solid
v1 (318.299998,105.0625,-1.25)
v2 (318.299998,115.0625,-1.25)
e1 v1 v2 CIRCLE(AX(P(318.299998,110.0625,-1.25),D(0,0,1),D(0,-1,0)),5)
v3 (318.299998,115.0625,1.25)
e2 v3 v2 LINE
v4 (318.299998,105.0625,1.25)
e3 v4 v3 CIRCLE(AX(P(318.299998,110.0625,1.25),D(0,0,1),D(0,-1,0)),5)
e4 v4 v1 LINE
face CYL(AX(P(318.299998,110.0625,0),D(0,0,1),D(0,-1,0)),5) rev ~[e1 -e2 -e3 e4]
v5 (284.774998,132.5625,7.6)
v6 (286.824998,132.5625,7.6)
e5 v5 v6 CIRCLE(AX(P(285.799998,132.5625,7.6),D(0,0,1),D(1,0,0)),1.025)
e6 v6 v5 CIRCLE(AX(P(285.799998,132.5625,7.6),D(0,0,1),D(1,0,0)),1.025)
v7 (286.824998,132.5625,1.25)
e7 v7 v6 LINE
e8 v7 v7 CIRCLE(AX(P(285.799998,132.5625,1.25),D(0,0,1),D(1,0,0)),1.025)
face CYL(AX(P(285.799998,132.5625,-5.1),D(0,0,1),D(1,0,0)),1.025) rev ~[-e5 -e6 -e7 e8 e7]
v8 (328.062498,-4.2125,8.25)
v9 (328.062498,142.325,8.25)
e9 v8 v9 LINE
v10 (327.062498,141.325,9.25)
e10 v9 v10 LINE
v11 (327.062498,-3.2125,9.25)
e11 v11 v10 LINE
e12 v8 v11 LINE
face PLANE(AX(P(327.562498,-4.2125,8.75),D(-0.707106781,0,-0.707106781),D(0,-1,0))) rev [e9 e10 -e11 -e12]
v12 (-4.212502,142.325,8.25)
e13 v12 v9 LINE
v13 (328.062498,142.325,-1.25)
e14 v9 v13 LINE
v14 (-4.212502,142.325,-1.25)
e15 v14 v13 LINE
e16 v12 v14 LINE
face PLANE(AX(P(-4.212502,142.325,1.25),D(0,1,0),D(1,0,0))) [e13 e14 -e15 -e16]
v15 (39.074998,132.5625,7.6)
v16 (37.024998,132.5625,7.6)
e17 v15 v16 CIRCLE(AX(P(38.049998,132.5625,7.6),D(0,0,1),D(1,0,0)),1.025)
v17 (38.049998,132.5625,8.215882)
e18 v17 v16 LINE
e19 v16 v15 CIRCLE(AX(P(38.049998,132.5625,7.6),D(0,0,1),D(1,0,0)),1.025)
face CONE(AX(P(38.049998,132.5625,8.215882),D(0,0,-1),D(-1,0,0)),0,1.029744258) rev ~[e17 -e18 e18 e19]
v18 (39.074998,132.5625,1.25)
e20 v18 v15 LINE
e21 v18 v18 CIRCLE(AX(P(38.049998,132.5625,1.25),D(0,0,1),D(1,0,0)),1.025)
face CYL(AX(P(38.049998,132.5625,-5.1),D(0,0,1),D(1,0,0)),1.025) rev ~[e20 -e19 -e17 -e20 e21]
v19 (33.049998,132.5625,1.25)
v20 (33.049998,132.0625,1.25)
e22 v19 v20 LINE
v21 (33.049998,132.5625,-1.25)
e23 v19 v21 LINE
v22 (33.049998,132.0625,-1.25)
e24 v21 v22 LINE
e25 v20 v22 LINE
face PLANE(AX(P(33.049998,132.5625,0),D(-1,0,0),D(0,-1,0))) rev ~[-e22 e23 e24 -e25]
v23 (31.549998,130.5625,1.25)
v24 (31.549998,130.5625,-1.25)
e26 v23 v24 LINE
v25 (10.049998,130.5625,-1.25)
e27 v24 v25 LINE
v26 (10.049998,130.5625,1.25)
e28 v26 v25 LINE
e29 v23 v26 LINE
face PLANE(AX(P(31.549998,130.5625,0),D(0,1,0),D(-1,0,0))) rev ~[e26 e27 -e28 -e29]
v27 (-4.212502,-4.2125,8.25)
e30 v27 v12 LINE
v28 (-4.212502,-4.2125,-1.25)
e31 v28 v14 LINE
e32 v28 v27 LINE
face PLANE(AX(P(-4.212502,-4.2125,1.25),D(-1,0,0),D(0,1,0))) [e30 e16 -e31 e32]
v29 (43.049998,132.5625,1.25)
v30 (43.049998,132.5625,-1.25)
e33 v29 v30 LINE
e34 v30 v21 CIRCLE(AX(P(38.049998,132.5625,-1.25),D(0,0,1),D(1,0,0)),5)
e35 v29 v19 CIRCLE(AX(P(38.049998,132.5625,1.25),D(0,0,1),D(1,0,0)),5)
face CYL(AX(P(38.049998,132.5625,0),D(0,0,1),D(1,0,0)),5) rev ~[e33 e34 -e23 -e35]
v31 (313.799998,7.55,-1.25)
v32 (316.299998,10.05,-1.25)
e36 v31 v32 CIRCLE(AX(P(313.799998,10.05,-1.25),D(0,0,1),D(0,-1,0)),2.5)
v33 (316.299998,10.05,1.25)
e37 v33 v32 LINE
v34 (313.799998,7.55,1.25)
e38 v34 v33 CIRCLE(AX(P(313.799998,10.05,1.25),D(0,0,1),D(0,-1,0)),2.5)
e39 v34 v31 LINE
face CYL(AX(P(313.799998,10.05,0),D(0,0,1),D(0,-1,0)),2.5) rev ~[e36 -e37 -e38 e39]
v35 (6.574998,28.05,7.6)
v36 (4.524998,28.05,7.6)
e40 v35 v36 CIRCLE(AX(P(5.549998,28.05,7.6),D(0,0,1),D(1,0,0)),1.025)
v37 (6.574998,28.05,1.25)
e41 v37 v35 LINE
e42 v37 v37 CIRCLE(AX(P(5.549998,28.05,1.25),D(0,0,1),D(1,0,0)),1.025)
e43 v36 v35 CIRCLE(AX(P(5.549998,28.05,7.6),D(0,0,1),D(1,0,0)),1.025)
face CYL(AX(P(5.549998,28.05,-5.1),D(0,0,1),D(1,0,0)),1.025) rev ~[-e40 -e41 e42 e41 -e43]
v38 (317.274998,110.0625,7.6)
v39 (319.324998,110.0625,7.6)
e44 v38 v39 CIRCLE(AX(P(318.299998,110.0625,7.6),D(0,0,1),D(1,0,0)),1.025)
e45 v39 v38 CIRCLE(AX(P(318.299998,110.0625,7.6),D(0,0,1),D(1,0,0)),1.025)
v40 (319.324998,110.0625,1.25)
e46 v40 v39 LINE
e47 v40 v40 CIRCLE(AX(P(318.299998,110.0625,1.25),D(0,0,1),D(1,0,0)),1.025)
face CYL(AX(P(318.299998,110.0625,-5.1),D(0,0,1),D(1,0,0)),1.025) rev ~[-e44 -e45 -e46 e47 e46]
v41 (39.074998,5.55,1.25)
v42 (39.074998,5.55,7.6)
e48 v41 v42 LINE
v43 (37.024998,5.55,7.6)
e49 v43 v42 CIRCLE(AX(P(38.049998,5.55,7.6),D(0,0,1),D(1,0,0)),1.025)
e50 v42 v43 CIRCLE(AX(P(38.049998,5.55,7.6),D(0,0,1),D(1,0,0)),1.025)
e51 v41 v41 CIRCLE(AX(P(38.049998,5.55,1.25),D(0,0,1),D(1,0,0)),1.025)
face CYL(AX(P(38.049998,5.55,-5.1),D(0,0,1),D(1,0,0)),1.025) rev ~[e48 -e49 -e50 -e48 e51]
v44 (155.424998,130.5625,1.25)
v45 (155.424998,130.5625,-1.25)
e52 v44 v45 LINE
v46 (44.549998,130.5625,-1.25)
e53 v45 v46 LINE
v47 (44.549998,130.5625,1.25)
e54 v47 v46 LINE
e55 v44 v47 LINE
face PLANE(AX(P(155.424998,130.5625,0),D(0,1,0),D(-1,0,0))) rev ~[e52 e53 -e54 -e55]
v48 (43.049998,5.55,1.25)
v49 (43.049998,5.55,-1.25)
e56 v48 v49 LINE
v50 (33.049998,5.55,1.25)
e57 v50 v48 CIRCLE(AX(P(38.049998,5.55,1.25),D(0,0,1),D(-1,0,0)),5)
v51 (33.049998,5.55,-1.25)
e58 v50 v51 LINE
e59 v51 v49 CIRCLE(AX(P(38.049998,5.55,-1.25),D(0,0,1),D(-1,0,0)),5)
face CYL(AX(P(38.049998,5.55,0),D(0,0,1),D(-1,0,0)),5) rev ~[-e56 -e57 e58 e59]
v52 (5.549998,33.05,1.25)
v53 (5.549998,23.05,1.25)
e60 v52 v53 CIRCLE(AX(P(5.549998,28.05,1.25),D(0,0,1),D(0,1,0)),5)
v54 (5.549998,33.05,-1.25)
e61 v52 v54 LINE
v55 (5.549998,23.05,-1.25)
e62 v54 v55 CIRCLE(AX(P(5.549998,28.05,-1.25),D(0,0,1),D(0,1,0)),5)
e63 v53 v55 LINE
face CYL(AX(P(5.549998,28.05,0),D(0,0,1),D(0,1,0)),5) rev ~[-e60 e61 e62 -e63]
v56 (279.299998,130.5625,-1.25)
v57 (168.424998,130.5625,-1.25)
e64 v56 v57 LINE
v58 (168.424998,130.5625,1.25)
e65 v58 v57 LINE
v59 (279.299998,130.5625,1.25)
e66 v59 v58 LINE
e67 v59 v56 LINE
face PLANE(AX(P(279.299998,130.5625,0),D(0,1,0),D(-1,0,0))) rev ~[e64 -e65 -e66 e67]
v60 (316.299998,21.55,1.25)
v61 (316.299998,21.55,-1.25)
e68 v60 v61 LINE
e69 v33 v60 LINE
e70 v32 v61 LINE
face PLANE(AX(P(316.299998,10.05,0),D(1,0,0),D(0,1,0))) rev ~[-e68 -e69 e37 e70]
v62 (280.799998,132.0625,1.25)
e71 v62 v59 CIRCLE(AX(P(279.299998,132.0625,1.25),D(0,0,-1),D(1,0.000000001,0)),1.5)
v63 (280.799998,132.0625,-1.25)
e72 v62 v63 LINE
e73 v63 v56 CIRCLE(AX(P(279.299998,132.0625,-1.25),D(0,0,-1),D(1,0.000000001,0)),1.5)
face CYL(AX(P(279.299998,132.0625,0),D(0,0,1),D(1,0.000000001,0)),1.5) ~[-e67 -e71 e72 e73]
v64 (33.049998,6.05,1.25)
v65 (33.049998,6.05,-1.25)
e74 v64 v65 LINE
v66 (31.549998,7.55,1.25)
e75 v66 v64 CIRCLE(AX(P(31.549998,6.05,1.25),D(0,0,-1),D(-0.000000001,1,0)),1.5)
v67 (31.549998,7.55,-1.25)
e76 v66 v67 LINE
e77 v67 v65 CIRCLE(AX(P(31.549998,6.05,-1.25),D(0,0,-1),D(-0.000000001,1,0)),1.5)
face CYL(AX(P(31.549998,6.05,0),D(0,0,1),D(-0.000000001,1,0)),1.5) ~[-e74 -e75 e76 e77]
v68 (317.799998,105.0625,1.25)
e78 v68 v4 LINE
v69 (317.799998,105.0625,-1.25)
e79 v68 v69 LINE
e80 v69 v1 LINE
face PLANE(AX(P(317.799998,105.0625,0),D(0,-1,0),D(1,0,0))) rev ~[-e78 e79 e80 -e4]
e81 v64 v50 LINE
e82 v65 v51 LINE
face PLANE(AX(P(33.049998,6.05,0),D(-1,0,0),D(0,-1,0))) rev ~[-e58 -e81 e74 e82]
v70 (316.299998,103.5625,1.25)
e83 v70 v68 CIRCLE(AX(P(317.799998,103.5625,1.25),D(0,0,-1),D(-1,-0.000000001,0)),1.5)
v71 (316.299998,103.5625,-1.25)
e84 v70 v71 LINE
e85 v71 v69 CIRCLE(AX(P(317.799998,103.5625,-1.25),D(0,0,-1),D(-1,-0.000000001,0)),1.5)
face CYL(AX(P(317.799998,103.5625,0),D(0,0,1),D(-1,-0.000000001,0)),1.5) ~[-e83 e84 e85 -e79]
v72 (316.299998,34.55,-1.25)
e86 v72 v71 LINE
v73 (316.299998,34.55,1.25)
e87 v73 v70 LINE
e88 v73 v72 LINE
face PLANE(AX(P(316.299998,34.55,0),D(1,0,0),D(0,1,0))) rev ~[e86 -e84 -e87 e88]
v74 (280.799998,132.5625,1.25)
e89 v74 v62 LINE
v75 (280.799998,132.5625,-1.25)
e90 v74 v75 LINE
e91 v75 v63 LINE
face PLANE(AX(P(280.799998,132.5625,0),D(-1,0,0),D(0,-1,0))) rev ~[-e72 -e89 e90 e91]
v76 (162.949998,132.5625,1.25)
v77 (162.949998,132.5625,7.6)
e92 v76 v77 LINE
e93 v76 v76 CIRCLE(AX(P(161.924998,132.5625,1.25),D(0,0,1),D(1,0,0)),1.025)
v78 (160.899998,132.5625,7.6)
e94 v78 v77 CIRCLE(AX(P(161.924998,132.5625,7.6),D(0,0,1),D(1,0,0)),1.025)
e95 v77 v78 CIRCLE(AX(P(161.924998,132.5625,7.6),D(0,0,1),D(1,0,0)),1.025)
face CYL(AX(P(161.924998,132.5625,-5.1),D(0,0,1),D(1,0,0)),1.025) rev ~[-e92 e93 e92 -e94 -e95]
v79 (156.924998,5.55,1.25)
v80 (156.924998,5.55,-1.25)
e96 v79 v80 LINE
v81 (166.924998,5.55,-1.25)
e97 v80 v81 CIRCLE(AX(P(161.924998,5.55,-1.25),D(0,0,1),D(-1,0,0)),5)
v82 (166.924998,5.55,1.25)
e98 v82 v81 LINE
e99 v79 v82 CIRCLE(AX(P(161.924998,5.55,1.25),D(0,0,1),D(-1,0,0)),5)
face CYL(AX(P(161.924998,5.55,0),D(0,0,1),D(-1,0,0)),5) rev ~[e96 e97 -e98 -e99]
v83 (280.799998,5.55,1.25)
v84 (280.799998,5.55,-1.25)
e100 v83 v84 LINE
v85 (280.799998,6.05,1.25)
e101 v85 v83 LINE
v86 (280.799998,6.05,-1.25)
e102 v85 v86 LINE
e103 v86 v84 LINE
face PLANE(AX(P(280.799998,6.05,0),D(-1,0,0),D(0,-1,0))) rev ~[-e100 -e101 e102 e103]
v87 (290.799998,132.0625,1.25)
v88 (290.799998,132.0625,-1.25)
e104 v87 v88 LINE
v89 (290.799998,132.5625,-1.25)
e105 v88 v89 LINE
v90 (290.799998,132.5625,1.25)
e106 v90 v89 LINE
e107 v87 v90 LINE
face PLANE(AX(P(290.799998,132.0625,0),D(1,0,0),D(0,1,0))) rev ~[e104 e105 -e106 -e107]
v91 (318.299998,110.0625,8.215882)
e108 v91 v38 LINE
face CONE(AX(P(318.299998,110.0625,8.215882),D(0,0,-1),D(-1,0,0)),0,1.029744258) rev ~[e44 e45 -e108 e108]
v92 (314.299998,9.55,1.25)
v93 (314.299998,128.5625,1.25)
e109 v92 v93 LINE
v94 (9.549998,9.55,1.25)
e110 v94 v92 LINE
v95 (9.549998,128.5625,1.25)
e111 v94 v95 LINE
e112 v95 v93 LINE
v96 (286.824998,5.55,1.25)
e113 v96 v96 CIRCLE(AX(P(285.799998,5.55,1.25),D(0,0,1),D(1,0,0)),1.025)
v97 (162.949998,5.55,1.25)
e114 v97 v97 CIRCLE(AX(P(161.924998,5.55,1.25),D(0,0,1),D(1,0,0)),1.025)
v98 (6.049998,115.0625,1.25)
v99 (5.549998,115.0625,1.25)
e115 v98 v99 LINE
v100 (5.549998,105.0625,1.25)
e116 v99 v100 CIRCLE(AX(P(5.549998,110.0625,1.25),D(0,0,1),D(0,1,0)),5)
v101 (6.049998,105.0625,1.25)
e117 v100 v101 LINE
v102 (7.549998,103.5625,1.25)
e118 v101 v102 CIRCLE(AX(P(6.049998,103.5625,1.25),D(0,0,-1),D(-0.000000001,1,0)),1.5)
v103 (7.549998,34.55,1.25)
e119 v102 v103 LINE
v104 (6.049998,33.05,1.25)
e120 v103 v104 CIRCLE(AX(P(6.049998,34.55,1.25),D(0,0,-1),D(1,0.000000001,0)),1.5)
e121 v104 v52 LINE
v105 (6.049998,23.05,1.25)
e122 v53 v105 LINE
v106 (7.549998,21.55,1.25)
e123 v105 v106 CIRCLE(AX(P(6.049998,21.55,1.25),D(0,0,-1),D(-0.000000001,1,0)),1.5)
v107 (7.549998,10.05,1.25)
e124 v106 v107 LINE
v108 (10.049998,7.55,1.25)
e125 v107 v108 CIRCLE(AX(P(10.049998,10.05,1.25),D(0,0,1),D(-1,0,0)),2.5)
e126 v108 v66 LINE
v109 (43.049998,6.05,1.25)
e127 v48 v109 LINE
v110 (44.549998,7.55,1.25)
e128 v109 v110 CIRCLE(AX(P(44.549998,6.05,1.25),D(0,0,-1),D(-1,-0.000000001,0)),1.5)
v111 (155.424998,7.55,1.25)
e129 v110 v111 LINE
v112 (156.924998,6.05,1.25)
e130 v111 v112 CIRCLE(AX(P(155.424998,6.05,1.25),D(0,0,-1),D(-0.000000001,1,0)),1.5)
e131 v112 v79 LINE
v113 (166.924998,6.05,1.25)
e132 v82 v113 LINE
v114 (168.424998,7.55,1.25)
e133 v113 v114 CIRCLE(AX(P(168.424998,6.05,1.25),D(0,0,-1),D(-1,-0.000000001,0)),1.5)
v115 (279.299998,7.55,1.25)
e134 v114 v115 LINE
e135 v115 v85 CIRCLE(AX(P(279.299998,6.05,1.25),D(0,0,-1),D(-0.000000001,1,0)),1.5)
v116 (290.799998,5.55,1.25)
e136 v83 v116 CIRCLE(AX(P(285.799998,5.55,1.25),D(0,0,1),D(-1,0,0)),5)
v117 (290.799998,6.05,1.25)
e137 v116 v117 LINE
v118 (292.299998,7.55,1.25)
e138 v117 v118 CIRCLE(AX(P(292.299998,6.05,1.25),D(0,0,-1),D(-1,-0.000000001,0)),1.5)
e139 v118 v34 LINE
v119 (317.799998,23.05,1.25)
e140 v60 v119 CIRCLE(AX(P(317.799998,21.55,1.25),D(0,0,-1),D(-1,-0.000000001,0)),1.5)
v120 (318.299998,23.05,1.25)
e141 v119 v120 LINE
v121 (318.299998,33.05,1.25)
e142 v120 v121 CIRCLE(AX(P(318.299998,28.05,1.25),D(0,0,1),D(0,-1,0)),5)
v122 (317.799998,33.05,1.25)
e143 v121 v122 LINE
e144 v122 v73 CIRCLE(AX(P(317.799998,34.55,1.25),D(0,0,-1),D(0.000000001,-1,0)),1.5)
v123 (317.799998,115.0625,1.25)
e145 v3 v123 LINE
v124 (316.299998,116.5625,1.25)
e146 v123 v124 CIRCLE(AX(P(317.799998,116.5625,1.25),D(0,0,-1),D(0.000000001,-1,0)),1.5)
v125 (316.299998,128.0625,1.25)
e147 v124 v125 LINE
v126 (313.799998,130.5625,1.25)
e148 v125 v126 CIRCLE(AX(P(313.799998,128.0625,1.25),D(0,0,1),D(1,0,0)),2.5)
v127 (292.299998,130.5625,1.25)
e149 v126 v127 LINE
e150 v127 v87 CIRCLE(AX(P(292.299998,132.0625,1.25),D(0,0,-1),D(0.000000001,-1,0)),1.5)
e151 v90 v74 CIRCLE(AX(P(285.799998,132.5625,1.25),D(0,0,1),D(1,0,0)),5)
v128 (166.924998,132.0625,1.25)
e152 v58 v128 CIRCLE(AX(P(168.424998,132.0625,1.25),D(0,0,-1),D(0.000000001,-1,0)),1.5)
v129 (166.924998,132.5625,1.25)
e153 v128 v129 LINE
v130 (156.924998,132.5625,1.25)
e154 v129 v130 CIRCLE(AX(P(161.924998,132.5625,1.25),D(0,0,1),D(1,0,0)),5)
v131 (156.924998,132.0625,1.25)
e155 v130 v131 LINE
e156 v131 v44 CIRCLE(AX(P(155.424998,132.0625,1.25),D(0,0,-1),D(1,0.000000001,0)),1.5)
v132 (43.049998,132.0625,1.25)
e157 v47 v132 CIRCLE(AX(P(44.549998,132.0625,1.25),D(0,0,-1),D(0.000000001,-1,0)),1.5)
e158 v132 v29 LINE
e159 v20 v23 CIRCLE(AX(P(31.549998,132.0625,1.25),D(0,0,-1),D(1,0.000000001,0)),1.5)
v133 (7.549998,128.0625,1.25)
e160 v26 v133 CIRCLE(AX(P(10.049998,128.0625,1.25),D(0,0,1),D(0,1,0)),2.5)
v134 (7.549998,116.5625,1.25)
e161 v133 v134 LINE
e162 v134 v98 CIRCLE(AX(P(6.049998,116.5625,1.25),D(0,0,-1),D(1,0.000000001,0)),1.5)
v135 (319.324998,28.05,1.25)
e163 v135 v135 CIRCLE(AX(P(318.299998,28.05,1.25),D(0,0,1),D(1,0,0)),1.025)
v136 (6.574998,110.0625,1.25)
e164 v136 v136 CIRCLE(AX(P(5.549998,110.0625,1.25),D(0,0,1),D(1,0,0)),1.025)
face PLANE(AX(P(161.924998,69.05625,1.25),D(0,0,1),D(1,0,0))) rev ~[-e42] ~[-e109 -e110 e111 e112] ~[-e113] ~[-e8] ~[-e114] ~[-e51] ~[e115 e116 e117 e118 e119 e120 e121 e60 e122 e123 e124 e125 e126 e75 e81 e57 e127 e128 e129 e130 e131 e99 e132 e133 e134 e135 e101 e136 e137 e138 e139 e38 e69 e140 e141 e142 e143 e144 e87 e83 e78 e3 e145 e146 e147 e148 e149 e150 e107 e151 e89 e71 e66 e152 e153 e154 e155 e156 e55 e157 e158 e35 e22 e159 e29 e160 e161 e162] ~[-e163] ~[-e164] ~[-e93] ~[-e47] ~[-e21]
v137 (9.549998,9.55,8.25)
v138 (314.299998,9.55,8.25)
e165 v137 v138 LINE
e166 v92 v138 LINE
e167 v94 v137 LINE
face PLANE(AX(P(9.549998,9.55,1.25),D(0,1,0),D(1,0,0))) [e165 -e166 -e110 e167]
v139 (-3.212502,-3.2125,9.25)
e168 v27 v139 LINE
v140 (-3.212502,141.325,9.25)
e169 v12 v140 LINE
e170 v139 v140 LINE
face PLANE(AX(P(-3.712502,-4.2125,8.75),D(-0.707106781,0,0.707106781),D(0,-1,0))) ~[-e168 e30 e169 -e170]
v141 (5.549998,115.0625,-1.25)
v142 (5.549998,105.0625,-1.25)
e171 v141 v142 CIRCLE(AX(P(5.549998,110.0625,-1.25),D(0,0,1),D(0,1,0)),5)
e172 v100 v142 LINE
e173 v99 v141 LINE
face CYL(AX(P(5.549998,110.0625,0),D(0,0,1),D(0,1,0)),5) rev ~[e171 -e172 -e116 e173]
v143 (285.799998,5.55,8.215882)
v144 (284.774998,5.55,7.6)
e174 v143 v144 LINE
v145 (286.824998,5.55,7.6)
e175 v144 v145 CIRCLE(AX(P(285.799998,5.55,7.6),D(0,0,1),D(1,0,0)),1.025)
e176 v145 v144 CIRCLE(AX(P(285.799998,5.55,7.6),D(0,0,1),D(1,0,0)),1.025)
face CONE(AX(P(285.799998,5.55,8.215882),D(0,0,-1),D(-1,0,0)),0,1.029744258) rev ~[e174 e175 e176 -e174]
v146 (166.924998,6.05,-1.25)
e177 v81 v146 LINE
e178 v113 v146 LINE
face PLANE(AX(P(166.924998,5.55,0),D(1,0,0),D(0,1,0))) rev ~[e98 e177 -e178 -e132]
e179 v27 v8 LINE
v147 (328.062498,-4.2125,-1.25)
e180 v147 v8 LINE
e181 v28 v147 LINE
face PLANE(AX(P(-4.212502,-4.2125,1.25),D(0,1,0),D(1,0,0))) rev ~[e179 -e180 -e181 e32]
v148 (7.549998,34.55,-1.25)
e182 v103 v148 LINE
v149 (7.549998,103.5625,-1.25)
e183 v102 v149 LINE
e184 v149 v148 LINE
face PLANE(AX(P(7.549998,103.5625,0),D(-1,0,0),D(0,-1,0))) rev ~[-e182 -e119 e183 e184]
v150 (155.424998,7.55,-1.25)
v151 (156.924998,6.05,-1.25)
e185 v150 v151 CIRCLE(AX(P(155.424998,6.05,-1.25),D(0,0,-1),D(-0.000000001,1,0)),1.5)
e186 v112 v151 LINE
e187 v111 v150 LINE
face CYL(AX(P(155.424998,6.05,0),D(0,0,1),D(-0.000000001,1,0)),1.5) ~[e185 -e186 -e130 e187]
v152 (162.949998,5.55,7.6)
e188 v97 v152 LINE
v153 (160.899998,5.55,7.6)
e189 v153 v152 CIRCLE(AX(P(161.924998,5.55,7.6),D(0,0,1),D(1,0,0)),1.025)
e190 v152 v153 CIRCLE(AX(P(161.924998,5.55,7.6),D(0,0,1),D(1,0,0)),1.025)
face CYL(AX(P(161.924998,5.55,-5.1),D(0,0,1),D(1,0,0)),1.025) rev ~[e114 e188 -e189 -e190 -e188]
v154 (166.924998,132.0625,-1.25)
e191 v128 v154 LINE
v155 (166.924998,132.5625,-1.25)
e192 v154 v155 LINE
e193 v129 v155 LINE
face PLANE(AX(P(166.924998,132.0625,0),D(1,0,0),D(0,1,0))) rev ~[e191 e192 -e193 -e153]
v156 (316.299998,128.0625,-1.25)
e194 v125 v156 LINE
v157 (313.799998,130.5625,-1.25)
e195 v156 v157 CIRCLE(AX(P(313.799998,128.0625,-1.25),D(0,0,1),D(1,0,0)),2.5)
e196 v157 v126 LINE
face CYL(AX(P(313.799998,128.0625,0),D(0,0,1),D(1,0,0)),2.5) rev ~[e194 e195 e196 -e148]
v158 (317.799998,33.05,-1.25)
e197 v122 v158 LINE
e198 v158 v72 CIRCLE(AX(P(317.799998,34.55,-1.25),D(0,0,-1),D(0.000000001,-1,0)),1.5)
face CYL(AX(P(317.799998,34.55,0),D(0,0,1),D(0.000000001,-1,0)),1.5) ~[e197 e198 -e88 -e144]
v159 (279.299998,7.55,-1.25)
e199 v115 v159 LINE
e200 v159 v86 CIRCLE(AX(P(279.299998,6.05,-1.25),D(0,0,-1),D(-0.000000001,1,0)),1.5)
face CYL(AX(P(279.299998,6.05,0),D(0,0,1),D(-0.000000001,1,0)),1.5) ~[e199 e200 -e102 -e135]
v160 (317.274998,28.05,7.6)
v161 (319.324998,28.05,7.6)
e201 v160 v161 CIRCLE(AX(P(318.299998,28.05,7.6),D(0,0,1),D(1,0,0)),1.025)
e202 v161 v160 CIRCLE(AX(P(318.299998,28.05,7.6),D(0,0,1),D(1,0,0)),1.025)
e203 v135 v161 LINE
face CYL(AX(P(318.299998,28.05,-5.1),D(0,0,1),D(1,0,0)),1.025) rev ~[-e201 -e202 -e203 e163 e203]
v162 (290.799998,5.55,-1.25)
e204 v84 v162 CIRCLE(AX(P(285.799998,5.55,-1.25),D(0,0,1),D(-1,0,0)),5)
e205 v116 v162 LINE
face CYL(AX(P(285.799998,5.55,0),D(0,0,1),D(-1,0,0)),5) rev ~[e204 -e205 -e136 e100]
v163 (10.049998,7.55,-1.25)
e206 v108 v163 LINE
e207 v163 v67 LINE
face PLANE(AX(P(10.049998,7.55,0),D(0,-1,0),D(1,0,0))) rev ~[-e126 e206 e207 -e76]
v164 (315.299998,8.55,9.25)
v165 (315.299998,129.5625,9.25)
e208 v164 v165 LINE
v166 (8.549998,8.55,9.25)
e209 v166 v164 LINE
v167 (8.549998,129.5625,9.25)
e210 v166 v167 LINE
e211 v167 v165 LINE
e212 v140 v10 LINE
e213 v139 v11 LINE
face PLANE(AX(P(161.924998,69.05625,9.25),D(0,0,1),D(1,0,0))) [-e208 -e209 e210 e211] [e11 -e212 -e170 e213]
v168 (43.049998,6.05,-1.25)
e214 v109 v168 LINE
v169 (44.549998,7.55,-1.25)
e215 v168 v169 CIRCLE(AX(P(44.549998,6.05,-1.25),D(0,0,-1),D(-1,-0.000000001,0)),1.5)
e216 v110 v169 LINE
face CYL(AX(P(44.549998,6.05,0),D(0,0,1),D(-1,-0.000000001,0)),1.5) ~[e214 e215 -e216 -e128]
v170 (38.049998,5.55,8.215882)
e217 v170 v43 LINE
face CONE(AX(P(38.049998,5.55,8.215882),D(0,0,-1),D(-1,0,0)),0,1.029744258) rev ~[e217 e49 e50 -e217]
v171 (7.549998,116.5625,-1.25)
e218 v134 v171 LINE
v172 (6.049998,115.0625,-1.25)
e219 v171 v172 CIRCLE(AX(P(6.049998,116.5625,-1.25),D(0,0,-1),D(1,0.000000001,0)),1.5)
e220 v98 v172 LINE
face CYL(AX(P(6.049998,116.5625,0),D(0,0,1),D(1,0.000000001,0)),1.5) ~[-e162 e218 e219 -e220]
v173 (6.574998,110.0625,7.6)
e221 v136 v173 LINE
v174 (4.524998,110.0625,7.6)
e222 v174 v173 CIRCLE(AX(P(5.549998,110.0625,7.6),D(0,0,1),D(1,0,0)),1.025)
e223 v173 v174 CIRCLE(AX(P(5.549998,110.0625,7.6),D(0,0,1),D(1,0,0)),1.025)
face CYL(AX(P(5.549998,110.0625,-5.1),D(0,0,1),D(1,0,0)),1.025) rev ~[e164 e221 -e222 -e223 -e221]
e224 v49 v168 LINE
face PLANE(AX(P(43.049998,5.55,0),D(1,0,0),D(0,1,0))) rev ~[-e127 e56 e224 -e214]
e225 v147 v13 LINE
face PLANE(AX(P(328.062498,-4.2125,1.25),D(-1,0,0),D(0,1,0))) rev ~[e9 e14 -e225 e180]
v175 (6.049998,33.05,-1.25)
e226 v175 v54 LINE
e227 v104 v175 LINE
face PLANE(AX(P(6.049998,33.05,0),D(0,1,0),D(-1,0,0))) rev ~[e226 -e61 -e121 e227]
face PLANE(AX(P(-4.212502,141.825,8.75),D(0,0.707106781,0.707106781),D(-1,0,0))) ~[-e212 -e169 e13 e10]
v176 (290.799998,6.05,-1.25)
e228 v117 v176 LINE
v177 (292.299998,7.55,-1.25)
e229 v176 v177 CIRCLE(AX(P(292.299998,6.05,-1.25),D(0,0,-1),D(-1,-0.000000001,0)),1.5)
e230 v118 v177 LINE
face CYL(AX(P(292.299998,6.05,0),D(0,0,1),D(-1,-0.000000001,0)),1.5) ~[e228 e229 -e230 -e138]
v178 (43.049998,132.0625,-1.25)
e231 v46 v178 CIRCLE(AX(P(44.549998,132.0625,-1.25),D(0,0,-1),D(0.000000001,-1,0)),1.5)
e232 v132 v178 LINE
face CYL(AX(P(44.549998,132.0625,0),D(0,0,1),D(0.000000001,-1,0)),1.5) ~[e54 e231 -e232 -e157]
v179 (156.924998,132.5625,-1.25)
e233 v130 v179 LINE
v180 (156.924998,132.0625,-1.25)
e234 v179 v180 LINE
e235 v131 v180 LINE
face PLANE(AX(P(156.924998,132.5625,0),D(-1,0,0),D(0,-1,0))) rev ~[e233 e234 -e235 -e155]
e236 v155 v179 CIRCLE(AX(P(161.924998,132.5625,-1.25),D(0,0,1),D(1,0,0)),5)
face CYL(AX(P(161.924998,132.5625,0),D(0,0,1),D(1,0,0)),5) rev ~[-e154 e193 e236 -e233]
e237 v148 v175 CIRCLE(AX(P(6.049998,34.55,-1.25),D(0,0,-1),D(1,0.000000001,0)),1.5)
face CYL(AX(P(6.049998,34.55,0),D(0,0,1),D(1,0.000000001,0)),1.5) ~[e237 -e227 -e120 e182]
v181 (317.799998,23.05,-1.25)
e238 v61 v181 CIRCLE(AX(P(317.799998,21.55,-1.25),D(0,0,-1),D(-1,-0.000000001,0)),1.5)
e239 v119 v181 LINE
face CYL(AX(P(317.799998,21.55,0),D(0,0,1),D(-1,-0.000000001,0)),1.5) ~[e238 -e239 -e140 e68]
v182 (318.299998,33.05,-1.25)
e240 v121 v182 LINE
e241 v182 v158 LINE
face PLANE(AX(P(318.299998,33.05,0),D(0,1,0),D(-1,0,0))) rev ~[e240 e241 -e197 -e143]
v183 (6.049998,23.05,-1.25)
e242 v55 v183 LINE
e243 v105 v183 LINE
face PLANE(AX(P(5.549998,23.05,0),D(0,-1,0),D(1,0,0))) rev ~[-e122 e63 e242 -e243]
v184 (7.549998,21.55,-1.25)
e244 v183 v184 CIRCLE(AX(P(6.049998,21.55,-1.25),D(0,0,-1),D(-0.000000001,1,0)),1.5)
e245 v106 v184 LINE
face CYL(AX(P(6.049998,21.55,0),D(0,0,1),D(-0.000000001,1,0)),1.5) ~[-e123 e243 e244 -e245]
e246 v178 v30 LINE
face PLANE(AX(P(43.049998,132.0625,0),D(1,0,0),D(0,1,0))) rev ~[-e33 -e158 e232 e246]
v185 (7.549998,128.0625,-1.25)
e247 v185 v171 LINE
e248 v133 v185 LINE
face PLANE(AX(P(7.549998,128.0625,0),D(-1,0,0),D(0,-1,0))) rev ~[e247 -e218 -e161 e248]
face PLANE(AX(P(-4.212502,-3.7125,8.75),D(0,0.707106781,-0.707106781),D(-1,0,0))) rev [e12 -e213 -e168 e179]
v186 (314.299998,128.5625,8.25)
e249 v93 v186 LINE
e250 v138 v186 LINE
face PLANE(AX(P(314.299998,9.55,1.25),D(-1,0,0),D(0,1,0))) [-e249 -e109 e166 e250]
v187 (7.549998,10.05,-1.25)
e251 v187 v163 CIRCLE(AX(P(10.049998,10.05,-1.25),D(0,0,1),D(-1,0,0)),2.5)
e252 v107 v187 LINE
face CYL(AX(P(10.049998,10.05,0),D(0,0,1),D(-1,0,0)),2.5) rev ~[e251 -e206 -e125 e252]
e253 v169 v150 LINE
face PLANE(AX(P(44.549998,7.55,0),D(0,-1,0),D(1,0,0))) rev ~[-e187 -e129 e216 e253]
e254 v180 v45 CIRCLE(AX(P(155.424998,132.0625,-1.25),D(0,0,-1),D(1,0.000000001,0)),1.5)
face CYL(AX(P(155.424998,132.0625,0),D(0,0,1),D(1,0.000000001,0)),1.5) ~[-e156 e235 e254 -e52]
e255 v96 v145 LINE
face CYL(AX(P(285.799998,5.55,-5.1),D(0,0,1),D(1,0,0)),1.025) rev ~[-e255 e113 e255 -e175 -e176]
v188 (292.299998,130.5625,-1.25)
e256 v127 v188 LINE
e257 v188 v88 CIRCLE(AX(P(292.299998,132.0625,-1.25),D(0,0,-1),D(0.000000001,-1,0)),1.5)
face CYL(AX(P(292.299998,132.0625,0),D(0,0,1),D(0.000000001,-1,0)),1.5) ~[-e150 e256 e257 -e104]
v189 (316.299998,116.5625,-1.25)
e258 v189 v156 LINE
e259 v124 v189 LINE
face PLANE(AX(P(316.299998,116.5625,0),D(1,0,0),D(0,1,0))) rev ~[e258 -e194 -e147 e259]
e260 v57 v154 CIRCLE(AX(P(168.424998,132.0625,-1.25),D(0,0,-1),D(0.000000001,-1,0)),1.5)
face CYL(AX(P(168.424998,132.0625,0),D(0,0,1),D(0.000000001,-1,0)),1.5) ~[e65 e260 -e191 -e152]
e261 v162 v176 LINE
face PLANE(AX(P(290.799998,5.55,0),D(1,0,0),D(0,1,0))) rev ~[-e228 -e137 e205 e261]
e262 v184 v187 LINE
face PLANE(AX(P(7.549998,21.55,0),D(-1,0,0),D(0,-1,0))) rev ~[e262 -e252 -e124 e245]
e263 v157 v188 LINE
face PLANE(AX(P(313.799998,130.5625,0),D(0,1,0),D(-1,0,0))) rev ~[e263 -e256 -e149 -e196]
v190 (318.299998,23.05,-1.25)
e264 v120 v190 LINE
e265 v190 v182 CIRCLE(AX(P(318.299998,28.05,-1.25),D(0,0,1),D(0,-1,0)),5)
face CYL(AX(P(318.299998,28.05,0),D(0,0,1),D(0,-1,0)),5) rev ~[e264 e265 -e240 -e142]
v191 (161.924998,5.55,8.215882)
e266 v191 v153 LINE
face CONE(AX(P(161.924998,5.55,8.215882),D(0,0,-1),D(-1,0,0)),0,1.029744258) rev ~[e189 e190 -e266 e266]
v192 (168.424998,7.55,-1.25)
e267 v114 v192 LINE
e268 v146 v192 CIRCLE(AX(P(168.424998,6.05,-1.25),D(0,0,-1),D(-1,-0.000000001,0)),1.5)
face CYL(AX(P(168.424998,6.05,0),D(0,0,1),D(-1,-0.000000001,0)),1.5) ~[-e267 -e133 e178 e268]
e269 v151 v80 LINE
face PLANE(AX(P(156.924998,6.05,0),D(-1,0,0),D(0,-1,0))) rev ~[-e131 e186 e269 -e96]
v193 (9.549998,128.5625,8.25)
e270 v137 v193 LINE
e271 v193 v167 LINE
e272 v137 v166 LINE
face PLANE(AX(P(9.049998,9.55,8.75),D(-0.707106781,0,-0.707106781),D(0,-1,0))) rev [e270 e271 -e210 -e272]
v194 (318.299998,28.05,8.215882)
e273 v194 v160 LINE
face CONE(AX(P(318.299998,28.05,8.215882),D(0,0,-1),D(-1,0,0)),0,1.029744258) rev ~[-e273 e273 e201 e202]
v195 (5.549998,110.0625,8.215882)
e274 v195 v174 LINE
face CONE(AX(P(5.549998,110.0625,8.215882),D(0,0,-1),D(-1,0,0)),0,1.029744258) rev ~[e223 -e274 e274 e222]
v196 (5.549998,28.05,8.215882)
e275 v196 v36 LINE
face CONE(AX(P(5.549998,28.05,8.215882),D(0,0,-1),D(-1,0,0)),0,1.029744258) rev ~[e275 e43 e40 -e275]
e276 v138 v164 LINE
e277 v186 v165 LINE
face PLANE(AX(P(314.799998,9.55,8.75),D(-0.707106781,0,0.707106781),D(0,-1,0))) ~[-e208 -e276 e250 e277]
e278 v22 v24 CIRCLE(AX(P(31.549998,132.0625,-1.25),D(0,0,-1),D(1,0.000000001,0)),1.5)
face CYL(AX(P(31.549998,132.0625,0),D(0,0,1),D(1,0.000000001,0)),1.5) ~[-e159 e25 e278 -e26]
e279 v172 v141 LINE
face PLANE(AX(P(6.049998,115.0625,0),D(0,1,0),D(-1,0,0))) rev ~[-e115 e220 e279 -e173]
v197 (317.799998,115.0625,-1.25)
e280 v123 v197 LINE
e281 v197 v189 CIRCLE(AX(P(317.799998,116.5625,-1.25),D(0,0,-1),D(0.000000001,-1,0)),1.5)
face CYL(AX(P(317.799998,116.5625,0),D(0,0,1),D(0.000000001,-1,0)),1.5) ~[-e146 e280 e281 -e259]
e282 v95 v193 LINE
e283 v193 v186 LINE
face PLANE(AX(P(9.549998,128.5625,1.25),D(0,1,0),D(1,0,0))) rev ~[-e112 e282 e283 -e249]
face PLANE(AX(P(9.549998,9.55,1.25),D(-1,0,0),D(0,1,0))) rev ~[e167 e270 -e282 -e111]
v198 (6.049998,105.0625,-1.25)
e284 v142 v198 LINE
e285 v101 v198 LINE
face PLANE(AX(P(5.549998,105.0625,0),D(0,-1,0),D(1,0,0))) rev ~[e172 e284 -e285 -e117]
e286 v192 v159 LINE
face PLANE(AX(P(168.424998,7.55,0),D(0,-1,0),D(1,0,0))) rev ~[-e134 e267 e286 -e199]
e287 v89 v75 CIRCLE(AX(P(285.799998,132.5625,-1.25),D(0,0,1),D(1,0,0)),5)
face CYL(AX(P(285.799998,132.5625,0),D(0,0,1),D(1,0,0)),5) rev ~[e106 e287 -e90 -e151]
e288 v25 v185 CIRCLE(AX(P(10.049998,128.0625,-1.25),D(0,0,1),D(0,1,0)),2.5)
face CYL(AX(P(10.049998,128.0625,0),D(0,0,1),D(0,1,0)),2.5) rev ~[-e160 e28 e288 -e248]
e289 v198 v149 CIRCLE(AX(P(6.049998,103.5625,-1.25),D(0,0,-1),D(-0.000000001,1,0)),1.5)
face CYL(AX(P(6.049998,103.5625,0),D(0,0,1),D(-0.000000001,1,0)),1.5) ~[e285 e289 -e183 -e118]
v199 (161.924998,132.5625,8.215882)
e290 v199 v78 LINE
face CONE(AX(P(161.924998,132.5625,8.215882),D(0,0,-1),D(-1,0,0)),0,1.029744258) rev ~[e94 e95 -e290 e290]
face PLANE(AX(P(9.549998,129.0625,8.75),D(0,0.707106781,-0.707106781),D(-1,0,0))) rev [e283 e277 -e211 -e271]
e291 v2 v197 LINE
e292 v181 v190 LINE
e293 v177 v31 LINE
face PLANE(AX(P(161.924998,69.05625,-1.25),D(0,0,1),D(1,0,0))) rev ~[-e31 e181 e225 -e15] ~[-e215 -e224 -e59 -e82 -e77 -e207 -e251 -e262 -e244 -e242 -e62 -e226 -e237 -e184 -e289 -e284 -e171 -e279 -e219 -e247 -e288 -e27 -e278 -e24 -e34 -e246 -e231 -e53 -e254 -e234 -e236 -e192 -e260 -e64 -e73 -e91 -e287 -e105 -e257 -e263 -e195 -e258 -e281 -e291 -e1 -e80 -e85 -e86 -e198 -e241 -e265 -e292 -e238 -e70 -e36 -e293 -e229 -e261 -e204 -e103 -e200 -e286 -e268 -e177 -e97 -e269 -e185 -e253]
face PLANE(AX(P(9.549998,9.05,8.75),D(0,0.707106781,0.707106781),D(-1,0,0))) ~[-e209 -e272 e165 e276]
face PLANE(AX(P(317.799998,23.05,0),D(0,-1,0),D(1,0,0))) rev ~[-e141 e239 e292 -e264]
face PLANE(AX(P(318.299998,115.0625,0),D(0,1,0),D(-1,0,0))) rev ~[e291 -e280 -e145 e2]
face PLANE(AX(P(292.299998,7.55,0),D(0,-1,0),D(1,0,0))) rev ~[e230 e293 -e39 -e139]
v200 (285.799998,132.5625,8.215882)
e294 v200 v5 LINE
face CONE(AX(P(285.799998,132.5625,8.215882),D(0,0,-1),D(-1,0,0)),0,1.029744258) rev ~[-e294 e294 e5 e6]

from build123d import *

# Parameters (mm, degrees)
SKETCH1_W               = 332.275
SKETCH1_H               = 146.5375
BOSS_EXTRUDE1_DEPTH     = 1.25
SKETCH2_W               = 332.275
SKETCH2_H               = 146.5375
SKETCH2_W_2             = 304.75
SKETCH2_H_2             = 119.0125
BOSS_EXTRUDE2_DEPTH     = 8
CHAMFER1_SIZE           = 1
M2_5_TAPPED_HOLE1_D     = 2.05
M2_5_TAPPED_HOLE1_DEPTH = 6.35
M2_5_TAPPED_HOLE1_TIP   = 0.615882135


with BuildPart() as part:
    # Sketch1 → Boss-Extrude1 (new, symmetric)
    with BuildSketch(Plane.XY):
        with Locations((161.924998435, 69.056249667)):
            Rectangle(SKETCH1_W, SKETCH1_H)
        with BuildLine():
            Line((313.799998435, 130.562499667), (292.299998435, 130.562499667))
            ThreePointArc((292.299998435, 130.562499667), (291.239338263, 131.001839495), (290.799998435, 132.062499667))
            Line((290.799998435, 132.062499667), (290.799998435, 132.562499667))
            ThreePointArc((290.799998435, 132.562499667), (285.799998435, 137.562499667), (280.799998435, 132.562499667))
            Line((280.799998435, 132.562499667), (280.799998435, 132.062499667))
            ThreePointArc((280.799998435, 132.062499667), (280.360658607, 131.001839495), (279.299998435, 130.562499667))
            Line((279.299998435, 130.562499667), (168.424998435, 130.562499667))
            ThreePointArc((168.424998435, 130.562499667), (167.364338263, 131.001839495), (166.924998435, 132.062499667))
            Line((166.924998435, 132.062499667), (166.924998435, 132.562499667))
            ThreePointArc((166.924998435, 132.562499667), (161.924998435, 137.562499667), (156.924998435, 132.562499667))
            Line((156.924998435, 132.562499667), (156.924998435, 132.062499667))
            ThreePointArc((156.924998435, 132.062499667), (156.485658607, 131.001839495), (155.424998435, 130.562499667))
            Line((155.424998435, 130.562499667), (44.549998435, 130.562499667))
            ThreePointArc((44.549998435, 130.562499667), (43.489338263, 131.001839495), (43.049998435, 132.062499667))
            Line((43.049998435, 132.062499667), (43.049998435, 132.562499667))
            ThreePointArc((43.049998435, 132.562499667), (38.049998435, 137.562499667), (33.049998435, 132.562499667))
            Line((33.049998435, 132.562499667), (33.049998435, 132.062499667))
            ThreePointArc((33.049998435, 132.062499667), (32.610658607, 131.001839495), (31.549998435, 130.562499667))
            Line((31.549998435, 130.562499667), (10.049998435, 130.562499667))
            ThreePointArc((10.049998435, 130.562499667), (8.282231482, 129.83026662), (7.549998435, 128.062499667))
            Line((7.549998435, 128.062499667), (7.549998435, 116.562499667))
            ThreePointArc((7.549998435, 116.562499667), (7.110658607, 115.501839495), (6.049998435, 115.062499667))
            Line((6.049998435, 115.062499667), (5.549998435, 115.062499667))
            ThreePointArc((5.549998435, 115.062499667), (0.549998435, 110.062499667), (5.549998435, 105.062499667))
            Line((5.549998435, 105.062499667), (6.049998435, 105.062499667))
            ThreePointArc((6.049998435, 105.062499667), (7.110658607, 104.623159839), (7.549998435, 103.562499667))
            Line((7.549998435, 103.562499667), (7.549998435, 34.549999667))
            ThreePointArc((7.549998435, 34.549999667), (7.110658607, 33.489339495), (6.049998435, 33.049999667))
            Line((6.049998435, 33.049999667), (5.549998435, 33.049999667))
            ThreePointArc((5.549998435, 33.049999667), (0.549998435, 28.049999667), (5.549998435, 23.049999667))
            Line((5.549998435, 23.049999667), (6.049998435, 23.049999667))
            ThreePointArc((6.049998435, 23.049999667), (7.110658607, 22.610659839), (7.549998435, 21.549999667))
            Line((7.549998435, 21.549999667), (7.549998435, 10.049999667))
            ThreePointArc((7.549998435, 10.049999667), (8.282231482, 8.282232714), (10.049998435, 7.549999667))
            Line((10.049998435, 7.549999667), (31.549998435, 7.549999667))
            ThreePointArc((31.549998435, 7.549999667), (32.610658607, 7.110659839), (33.049998435, 6.049999667))
            Line((33.049998435, 6.049999667), (33.049998435, 5.549999667))
            ThreePointArc((33.049998435, 5.549999667), (38.049998435, 0.549999667), (43.049998435, 5.549999667))
            Line((43.049998435, 5.549999667), (43.049998435, 6.049999667))
            ThreePointArc((43.049998435, 6.049999667), (43.489338263, 7.110659839), (44.549998435, 7.549999667))
            Line((44.549998435, 7.549999667), (155.424998435, 7.549999667))
            ThreePointArc((155.424998435, 7.549999667), (156.485658607, 7.110659839), (156.924998435, 6.049999667))
            Line((156.924998435, 6.049999667), (156.924998435, 5.549999667))
            ThreePointArc((156.924998435, 5.549999667), (161.924998435, 0.549999667), (166.924998435, 5.549999667))
            Line((166.924998435, 5.549999667), (166.924998435, 6.049999667))
            ThreePointArc((166.924998435, 6.049999667), (167.364338263, 7.110659839), (168.424998435, 7.549999667))
            Line((168.424998435, 7.549999667), (279.299998435, 7.549999667))
            ThreePointArc((279.299998435, 7.549999667), (280.360658607, 7.110659839), (280.799998435, 6.049999667))
            Line((280.799998435, 6.049999667), (280.799998435, 5.549999667))
            ThreePointArc((280.799998435, 5.549999667), (285.799998435, 0.549999667), (290.799998435, 5.549999667))
            Line((290.799998435, 5.549999667), (290.799998435, 6.049999667))
            ThreePointArc((290.799998435, 6.049999667), (291.239338263, 7.110659839), (292.299998435, 7.549999667))
            Line((292.299998435, 7.549999667), (313.799998435, 7.549999667))
            ThreePointArc((313.799998435, 7.549999667), (315.567765388, 8.282232714), (316.299998435, 10.049999667))
            Line((316.299998435, 10.049999667), (316.299998435, 21.549999667))
            ThreePointArc((316.299998435, 21.549999667), (316.739338263, 22.610659839), (317.799998435, 23.049999667))
            Line((317.799998435, 23.049999667), (318.299998435, 23.049999667))
            ThreePointArc((318.299998435, 23.049999667), (323.299998435, 28.049999667), (318.299998435, 33.049999667))
            Line((318.299998435, 33.049999667), (317.799998435, 33.049999667))
            ThreePointArc((317.799998435, 33.049999667), (316.739338263, 33.489339495), (316.299998435, 34.549999667))
            Line((316.299998435, 34.549999667), (316.299998435, 103.562499667))
            ThreePointArc((316.299998435, 103.562499667), (316.739338263, 104.623159839), (317.799998435, 105.062499667))
            Line((317.799998435, 105.062499667), (318.299998435, 105.062499667))
            ThreePointArc((318.299998435, 105.062499667), (323.299998435, 110.062499667), (318.299998435, 115.062499667))
            Line((318.299998435, 115.062499667), (317.799998435, 115.062499667))
            ThreePointArc((317.799998435, 115.062499667), (316.739338263, 115.501839495), (316.299998435, 116.562499667))
            Line((316.299998435, 116.562499667), (316.299998435, 128.062499667))
            ThreePointArc((316.299998435, 128.062499667), (315.567765388, 129.83026662), (313.799998435, 130.562499667))
        make_face(mode=Mode.SUBTRACT)
    extrude(amount=BOSS_EXTRUDE1_DEPTH, both=True)

    # Sketch2 → Boss-Extrude2 (add)
    with BuildSketch(Plane.XY.offset(1.25)):
        with Locations((161.924998435, 69.056249667)):
            Rectangle(SKETCH2_W, SKETCH2_H)
        with Locations((161.924998435, 69.056249667)):
            Rectangle(SKETCH2_W_2, SKETCH2_H_2, mode=Mode.SUBTRACT)
    extrude(amount=BOSS_EXTRUDE2_DEPTH)

    # Chamfer1
    chamfer1_edges = [part.edges().sort_by_distance(p)[0] for p in [
        (161.924998435, 9.549999667, 9.25),
        (9.549998435, 69.056249667, 9.25),
        (161.924998435, -4.212500333, 9.25),
        (328.062498435, 69.056249667, 9.25),
        (161.924998435, 142.324999667, 9.25),
        (-4.212501565, 69.056249667, 9.25),
        (161.924998435, 128.562499667, 9.25),
        (314.299998435, 69.056249667, 9.25),
    ]]
    chamfer(chamfer1_edges, length=CHAMFER1_SIZE)

    # M2.5 Tapped Hole1
    with Locations(Plane(origin=(0, 0, 1.25), x_dir=(-1, 0, 0), z_dir=(0, 0, -1))):
        with Locations((-285.799998435, 132.562499667), (-318.299998435, 110.062499667), (-318.299998435, 28.049999667), (-285.799998435, 5.549999667), (-161.924998435, 5.549999667), (-38.049998435, 5.549999667), (-5.549998435, 28.049999667), (-38.049998435, 132.562499667), (-5.549998435, 110.062499667), (-161.924998435, 132.562499667)):
            Hole(M2_5_TAPPED_HOLE1_D / 2, depth=M2_5_TAPPED_HOLE1_DEPTH)
            with Locations((0, 0, -(M2_5_TAPPED_HOLE1_DEPTH + M2_5_TAPPED_HOLE1_TIP / 2))):  # 118° drill point
                Cone(0, M2_5_TAPPED_HOLE1_D / 2, M2_5_TAPPED_HOLE1_TIP, mode=Mode.SUBTRACT)


solid = part.part
